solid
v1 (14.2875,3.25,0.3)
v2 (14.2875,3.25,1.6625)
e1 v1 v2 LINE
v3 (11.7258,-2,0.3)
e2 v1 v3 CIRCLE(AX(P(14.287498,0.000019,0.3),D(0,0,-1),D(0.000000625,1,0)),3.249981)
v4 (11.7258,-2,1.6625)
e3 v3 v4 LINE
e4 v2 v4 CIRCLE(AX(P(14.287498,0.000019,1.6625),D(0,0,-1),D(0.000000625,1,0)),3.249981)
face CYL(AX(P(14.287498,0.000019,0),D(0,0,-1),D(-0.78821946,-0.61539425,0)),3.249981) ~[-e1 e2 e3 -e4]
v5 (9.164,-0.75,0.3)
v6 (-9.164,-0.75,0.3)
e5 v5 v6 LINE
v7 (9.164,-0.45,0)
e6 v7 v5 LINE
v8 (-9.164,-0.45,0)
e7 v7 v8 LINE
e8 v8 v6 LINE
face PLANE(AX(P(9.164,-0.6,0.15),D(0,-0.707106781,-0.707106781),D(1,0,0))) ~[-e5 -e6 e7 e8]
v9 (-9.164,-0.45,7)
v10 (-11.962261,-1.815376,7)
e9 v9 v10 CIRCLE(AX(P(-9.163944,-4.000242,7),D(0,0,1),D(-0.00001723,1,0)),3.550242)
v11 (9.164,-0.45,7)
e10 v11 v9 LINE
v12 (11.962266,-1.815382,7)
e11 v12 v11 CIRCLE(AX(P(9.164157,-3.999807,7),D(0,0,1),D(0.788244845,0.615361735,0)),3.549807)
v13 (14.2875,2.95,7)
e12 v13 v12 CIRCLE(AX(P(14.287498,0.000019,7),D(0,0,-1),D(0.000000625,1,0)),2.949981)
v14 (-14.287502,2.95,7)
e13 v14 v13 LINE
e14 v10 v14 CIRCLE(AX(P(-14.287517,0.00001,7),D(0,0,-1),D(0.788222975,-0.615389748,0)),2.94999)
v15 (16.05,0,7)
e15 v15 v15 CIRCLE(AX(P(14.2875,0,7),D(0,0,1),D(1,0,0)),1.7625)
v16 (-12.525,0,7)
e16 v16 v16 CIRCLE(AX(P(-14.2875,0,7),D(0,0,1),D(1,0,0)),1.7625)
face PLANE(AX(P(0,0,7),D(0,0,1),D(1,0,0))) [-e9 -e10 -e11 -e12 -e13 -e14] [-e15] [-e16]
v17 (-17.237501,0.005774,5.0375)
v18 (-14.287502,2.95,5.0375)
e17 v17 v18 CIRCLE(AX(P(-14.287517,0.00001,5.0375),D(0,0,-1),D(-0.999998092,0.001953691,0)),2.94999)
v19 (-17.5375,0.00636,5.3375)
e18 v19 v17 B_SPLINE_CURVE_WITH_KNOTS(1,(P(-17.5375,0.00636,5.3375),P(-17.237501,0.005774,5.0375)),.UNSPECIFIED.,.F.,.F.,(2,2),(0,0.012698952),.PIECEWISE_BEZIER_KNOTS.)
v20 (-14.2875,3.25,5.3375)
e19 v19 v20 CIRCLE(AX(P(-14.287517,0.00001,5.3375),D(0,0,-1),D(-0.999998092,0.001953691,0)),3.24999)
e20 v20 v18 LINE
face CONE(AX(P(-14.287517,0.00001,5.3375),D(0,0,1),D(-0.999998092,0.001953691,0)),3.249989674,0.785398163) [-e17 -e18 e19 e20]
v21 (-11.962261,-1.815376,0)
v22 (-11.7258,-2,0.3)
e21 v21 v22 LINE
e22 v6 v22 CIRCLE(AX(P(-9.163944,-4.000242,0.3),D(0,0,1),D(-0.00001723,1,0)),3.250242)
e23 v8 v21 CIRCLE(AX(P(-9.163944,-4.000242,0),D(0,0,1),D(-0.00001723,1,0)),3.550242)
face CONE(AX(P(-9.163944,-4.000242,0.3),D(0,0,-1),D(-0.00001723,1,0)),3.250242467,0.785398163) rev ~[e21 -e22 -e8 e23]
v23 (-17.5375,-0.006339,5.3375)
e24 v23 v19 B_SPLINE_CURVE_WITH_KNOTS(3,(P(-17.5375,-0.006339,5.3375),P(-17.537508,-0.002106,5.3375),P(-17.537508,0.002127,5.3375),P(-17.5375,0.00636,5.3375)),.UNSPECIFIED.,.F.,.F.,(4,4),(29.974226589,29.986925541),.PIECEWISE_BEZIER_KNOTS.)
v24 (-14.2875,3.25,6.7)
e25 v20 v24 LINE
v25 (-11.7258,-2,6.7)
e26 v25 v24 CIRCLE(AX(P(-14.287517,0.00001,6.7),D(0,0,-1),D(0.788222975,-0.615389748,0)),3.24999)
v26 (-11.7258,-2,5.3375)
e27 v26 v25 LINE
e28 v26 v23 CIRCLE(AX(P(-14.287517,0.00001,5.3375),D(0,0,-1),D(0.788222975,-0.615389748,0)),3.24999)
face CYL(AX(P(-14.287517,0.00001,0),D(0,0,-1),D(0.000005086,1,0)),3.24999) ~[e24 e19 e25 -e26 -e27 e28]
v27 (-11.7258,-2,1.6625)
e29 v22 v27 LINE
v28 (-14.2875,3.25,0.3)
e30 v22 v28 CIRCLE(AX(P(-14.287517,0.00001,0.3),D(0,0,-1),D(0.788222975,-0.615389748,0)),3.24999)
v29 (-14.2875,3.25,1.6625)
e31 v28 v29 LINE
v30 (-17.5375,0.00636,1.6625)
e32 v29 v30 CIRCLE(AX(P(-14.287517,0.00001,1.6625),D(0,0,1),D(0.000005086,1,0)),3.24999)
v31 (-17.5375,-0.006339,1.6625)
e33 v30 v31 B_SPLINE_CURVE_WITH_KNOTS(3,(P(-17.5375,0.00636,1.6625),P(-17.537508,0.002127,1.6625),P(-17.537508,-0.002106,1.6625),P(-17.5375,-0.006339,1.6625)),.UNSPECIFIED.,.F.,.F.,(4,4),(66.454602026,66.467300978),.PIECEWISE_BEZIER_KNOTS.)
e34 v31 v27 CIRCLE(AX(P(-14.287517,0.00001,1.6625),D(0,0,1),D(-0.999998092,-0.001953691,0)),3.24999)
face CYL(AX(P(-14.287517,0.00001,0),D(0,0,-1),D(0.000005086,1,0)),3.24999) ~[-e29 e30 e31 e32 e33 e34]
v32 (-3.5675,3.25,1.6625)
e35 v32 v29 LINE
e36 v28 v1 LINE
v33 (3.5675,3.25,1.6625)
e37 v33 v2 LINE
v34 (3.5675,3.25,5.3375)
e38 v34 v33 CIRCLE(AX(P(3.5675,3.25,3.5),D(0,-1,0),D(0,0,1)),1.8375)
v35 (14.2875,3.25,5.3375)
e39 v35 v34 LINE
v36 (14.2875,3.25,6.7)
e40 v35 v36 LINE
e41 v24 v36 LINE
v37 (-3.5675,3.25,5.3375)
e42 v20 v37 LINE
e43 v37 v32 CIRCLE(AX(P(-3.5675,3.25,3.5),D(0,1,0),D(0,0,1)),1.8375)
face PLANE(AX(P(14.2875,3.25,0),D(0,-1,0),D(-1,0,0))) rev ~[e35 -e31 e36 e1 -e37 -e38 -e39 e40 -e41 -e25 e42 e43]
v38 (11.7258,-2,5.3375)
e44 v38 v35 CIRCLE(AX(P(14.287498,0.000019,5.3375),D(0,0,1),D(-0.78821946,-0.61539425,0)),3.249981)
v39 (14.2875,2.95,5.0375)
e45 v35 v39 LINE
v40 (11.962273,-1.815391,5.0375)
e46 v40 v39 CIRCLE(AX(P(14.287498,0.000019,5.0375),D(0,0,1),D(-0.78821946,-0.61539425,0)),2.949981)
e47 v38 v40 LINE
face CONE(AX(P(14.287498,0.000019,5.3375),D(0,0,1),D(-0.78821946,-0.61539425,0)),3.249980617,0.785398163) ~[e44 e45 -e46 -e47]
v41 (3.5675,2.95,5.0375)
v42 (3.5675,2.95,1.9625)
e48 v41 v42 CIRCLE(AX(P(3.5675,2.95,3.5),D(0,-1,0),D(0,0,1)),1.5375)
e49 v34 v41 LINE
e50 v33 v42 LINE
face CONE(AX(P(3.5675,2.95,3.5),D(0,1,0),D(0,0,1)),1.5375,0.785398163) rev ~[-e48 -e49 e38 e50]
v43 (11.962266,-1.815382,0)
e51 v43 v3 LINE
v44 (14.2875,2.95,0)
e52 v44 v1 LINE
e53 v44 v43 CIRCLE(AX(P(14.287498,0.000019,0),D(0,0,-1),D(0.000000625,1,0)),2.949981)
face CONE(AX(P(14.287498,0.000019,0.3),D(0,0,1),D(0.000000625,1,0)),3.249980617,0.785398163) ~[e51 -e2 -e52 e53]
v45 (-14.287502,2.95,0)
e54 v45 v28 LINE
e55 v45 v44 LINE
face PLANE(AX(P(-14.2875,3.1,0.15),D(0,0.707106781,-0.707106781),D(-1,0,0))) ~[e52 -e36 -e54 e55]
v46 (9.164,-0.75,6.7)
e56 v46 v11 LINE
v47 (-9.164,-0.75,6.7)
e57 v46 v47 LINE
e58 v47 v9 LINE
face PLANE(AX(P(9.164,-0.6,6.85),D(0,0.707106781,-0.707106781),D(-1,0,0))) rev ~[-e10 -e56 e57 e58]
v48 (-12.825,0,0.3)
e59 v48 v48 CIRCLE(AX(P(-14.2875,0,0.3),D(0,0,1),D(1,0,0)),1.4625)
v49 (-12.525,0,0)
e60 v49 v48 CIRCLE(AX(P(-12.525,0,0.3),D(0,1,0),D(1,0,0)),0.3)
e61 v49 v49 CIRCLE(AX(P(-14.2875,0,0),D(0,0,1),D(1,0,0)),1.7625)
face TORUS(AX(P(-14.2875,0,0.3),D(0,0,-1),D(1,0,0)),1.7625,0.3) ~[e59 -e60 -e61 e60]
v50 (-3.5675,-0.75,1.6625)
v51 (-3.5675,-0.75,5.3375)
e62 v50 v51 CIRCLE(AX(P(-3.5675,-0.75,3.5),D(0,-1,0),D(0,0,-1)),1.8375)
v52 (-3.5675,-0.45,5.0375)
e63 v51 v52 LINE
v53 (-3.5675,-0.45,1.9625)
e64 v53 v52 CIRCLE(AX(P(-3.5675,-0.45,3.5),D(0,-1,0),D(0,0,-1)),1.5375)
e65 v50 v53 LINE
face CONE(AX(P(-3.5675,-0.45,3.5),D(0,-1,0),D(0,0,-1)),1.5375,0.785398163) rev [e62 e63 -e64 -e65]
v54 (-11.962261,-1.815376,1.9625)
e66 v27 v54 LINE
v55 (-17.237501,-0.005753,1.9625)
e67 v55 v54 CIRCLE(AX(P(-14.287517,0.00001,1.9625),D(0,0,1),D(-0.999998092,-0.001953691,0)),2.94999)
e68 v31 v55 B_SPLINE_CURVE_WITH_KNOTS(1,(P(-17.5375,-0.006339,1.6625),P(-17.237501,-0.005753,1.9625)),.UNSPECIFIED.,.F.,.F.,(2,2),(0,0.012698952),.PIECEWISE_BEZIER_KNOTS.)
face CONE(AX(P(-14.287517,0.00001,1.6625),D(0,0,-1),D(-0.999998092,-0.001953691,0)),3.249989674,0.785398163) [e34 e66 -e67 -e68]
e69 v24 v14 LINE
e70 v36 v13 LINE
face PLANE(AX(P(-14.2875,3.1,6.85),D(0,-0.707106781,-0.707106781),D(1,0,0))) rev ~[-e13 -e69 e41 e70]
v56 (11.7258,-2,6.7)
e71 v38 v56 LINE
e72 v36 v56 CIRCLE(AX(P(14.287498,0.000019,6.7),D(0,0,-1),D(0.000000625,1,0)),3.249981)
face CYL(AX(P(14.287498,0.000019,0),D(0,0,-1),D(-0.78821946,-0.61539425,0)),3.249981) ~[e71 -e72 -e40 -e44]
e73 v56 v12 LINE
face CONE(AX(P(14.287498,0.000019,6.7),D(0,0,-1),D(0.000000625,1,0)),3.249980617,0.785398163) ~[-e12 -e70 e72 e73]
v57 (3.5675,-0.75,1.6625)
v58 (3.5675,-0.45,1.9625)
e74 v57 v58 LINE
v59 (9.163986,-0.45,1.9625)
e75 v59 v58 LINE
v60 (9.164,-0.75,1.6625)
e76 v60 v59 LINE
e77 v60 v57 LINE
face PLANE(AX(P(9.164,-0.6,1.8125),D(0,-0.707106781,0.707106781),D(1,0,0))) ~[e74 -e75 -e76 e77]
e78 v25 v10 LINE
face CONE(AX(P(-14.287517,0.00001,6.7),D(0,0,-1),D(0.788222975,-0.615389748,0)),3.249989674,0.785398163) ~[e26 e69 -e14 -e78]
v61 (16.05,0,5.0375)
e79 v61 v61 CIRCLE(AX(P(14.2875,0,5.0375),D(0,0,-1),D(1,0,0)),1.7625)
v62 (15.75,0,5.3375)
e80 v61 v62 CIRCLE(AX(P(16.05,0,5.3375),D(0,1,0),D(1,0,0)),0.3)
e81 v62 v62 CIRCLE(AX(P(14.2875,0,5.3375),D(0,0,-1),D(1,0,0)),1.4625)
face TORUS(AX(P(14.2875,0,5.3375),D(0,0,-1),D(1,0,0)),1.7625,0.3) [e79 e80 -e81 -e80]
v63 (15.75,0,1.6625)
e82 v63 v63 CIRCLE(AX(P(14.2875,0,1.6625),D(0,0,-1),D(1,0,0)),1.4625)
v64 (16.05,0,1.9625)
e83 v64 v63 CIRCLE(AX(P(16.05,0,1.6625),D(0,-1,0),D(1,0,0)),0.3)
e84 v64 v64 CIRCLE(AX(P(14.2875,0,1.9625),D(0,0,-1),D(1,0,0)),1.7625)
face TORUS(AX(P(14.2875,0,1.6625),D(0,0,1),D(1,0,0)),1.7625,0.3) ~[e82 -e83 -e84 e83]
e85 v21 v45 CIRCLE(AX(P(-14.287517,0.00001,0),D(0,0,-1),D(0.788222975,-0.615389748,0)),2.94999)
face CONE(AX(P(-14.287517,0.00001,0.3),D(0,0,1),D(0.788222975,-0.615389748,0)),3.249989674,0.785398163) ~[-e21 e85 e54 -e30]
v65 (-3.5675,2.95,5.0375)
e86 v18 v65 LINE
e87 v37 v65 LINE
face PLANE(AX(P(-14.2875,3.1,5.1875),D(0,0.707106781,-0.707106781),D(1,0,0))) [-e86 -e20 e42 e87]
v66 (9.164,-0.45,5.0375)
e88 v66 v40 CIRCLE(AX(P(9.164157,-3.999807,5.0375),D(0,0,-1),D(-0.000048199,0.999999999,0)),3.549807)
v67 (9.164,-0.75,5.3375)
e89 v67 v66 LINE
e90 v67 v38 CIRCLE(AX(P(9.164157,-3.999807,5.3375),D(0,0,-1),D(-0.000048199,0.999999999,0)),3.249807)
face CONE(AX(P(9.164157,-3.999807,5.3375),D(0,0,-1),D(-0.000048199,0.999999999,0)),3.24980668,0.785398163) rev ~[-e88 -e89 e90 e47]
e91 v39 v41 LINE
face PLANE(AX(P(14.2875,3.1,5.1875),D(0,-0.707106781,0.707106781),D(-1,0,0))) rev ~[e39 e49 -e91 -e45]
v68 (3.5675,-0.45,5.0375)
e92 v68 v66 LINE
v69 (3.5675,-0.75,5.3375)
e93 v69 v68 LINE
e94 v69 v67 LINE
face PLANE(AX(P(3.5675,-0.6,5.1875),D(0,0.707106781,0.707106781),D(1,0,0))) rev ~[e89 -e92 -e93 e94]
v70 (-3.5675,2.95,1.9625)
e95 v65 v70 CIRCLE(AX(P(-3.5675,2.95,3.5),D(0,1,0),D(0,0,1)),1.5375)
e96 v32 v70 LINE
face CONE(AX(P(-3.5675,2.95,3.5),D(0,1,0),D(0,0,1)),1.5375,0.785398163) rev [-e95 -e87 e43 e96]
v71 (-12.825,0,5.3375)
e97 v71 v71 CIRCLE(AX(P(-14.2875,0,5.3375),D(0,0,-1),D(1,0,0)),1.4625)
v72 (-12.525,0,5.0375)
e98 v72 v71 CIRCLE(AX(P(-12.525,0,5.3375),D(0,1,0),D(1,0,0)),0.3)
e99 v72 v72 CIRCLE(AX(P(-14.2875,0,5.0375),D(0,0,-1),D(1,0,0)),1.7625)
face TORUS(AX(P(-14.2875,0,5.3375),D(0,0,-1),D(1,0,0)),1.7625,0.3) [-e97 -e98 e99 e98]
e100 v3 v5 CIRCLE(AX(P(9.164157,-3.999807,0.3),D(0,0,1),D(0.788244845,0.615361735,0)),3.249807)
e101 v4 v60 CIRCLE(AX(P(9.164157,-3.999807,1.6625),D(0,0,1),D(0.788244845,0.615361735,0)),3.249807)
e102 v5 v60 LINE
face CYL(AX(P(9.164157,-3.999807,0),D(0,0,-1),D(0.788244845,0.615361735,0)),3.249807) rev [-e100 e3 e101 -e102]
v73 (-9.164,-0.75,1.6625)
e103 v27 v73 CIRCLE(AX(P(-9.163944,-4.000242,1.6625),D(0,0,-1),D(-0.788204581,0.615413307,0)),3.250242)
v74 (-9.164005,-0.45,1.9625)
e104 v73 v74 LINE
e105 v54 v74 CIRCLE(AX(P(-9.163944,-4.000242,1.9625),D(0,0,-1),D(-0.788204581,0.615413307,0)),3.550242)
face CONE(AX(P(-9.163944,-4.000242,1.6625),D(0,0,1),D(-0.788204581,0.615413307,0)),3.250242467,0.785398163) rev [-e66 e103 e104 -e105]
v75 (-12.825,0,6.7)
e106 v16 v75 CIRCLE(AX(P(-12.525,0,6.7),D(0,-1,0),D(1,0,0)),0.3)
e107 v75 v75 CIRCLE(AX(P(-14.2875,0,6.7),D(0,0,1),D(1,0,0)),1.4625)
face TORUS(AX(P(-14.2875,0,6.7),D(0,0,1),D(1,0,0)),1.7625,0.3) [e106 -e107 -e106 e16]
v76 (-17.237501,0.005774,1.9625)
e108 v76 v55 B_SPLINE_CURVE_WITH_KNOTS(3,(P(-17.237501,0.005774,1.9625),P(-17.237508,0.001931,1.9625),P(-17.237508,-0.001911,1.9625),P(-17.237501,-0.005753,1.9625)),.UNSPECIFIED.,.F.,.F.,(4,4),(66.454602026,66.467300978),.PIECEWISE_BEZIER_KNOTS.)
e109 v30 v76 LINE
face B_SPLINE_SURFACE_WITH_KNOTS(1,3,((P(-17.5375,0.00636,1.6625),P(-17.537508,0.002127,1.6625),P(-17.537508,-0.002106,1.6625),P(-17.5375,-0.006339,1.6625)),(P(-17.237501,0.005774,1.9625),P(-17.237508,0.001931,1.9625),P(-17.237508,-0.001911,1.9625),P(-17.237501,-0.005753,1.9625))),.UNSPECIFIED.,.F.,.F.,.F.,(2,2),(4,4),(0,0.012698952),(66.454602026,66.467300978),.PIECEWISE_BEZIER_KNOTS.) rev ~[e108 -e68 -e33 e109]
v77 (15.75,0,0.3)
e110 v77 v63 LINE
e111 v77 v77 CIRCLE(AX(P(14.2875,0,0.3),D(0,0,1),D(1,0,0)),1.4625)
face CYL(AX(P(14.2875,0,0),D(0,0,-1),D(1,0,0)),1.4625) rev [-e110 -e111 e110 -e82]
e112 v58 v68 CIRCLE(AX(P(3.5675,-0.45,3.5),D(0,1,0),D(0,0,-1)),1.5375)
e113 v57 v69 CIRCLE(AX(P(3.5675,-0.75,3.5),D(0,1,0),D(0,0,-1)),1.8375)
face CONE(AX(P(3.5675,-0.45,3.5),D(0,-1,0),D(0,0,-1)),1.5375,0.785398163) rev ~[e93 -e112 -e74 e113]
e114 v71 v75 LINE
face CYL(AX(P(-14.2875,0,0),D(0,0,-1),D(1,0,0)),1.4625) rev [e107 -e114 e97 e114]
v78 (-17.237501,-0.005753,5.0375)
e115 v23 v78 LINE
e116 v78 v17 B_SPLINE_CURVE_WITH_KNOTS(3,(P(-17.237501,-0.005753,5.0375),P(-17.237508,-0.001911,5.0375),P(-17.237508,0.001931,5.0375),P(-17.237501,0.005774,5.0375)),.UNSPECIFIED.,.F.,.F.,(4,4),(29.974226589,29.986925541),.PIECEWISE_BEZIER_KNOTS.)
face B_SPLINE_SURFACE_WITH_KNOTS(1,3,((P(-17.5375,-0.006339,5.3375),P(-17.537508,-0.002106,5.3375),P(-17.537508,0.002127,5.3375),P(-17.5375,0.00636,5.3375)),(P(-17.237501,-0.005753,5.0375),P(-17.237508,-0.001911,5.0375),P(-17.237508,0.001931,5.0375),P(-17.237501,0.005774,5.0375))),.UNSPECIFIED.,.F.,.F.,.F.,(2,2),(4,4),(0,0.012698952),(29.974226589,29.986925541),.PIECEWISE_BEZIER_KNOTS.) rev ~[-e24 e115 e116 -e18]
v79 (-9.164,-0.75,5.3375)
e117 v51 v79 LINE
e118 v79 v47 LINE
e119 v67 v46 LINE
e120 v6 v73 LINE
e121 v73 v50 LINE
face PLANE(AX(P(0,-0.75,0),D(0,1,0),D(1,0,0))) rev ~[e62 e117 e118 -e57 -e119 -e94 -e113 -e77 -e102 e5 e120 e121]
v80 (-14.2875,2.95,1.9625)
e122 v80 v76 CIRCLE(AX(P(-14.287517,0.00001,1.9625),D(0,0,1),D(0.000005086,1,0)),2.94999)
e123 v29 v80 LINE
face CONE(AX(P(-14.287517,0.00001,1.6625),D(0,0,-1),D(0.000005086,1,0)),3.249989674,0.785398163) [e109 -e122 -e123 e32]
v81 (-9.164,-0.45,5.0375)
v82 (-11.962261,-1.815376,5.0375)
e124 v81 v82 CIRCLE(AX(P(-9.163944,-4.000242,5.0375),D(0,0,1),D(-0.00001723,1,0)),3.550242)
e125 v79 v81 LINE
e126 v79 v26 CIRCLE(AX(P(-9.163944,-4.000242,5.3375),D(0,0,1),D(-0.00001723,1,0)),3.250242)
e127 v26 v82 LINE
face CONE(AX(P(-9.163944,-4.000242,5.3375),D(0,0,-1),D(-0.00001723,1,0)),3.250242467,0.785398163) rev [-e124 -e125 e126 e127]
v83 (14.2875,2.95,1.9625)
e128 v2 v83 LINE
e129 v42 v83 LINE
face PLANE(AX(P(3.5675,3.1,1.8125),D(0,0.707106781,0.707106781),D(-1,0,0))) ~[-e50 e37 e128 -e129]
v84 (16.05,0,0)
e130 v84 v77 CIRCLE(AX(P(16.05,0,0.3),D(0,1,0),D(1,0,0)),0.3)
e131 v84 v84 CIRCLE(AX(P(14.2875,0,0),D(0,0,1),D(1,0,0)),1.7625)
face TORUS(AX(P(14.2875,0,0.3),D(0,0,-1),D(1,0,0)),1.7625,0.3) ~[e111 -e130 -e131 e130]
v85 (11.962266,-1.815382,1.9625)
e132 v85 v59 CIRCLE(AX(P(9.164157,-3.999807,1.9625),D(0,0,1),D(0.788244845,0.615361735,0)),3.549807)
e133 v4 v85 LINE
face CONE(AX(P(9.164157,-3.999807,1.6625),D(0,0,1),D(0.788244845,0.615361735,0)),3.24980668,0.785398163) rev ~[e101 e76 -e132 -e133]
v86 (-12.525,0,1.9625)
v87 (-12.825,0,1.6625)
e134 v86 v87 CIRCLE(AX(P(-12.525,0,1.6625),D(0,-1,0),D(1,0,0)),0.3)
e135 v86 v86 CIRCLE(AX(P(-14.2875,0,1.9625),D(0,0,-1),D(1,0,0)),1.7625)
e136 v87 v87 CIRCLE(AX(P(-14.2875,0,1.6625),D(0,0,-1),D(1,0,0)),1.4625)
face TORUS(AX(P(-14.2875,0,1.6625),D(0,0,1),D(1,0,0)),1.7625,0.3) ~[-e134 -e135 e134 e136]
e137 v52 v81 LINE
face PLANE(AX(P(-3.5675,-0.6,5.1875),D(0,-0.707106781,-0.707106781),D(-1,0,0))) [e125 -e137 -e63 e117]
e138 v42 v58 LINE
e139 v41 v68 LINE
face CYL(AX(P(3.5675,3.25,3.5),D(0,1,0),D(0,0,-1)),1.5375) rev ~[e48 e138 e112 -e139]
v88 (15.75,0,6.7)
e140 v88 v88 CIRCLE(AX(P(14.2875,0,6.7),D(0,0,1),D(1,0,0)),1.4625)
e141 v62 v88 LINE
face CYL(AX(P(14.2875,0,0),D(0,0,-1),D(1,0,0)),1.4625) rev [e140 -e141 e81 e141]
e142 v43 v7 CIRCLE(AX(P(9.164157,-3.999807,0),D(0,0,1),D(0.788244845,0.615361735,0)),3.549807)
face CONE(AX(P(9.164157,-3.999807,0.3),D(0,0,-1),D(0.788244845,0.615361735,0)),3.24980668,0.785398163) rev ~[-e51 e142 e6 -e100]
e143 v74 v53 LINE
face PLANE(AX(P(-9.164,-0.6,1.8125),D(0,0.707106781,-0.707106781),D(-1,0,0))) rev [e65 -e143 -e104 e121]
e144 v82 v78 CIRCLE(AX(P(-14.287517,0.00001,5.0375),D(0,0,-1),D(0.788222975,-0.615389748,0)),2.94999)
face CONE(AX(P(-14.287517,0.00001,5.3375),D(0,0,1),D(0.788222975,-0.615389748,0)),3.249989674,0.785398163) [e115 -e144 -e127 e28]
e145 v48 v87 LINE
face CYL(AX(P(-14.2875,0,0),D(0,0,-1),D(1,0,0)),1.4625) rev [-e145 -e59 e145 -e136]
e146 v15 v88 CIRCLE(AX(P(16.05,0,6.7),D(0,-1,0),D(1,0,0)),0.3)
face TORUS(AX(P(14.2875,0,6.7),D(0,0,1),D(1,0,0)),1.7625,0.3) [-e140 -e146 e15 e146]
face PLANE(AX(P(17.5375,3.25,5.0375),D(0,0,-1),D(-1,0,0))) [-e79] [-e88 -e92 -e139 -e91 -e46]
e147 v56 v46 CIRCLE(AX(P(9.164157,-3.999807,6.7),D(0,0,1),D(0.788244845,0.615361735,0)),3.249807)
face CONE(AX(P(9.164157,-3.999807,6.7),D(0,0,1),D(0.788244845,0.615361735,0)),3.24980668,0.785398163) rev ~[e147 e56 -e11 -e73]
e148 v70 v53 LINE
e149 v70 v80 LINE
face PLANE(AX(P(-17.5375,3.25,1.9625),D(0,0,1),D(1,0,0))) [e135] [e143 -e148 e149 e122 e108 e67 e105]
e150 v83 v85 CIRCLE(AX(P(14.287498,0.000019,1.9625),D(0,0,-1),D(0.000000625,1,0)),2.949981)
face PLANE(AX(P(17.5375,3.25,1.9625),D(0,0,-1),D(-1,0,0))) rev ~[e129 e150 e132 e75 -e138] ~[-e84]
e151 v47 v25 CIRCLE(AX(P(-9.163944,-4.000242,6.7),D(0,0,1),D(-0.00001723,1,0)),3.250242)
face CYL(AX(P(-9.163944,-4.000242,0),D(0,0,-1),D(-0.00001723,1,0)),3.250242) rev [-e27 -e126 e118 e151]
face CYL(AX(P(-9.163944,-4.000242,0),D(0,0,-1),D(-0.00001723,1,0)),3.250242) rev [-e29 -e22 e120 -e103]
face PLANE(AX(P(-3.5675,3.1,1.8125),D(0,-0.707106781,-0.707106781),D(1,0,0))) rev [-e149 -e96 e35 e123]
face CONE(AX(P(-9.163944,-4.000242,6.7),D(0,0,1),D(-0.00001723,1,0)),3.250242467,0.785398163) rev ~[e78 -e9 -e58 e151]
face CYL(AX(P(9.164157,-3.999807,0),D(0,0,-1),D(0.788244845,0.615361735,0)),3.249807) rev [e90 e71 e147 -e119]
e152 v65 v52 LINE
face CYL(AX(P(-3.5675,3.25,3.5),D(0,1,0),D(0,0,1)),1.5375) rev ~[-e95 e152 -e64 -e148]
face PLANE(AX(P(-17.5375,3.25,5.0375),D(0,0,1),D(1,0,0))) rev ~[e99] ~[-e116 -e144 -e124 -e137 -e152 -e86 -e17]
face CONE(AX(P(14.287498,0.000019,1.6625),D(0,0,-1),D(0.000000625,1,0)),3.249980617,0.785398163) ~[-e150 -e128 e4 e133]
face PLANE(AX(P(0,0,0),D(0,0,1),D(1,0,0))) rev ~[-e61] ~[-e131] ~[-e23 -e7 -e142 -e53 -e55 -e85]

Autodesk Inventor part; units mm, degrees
ref_plane "YZ Plane" through (0, 0, 0) normal (1, 0, 0) x (0, 1, 0)
ref_plane "XZ Plane" through (0, 0, 0) normal (0, 1, 0) x (-1, 0, 0)
ref_plane "XY Plane" through (0, 0, 0) normal (0, 0, 1) x (1, 0, 0)
sketch "Sketch1" plane through (0, 0, 0) normal (0, 0, 1) x (1, 0, 0)
  circle A0 centre (14.2875, 0) radius 1.4625
  line L0 (14.2875, 3.25) -> (-8.6403, 3.25)
  line L1 (-446494.9011, 0) -> (446494.9011, 0) construction
  line L2 (0, -0.75) -> (9.164, -0.75)
  arc A1 (11.7258, -2) -> (14.2875, 3.25) centre (14.2875, 0) ccw
  arc A2 (11.7258, -2) -> (9.164, -0.75) centre (9.164, -4) ccw
  line L3 (0, -446500.8256) -> (0, 446500.0254) construction
  circle A3 centre (-14.2875, 0) radius 1.4625
  line L4 (-14.2875, 3.25) -> (-8.6403, 3.25)
  line L5 (446494.9011, 0) -> (-446494.9011, 0) construction
  line L6 (0, -0.75) -> (-9.164, -0.75)
  arc A4 (-14.2875, 3.25) -> (-11.7258, -2) centre (-14.2875, 0) ccw
  arc A5 (-9.164, -0.75) -> (-11.7258, -2) centre (-9.164, -4) ccw
  point P0 (0, 0)
  dimension "d0" = 4
  dimension "d1" = 3.25
  dimension "d2" = 3.25
  dimension "d3" = 2.925
  dimension "d4" = 28.575
extrude "Extrusion1" add sketch "Sketch1" along normal blind 7
ref_plane "Work Plane1" through (0, 0, 3.5) normal (0, 0, 1) x (1, 0, 0)
sketch "Sketch2" plane through (-14.2875, 3.25, 0) normal (0, 1, 0) x (1, 0, 0)
  line L0 (38.84, -3.5) -> (-10.265, -3.5) construction
  line L1 (31.825, 0) -> (31.825, -7) construction
  line L2 (31.825, -1.9625) -> (17.855, -1.9625)
  line L3 (31.825, -5.0375) -> (17.855, -5.0375)
  arc A0 (17.855, -1.9625) -> (17.855, -5.0375) centre (17.855, -3.5) ccw
  line L4 (31.825, -1.9625) -> (31.825, -5.0375)
  line L5 (14.2875, 1.4) -> (14.2875, -8.4) construction
  line L6 (-3.25, -1.9625) -> (10.72, -1.9625)
  line L7 (-3.25, -5.0375) -> (10.72, -5.0375)
  arc A1 (10.72, -5.0375) -> (10.72, -1.9625) centre (10.72, -3.5) ccw
  line L8 (-3.25, -1.9625) -> (-3.25, -5.0375)
  point P0 (14.2875, 0)
  dimension "d7" = 3.075
  dimension "d9" = 13.97
extrude "Extrusion2" cut sketch "Sketch2" against normal through all
chamfer "Chamfer1" distance 0.3 angle 45 25 edges at (0, -0.75, 7) (10.5892, -1.0792, 7) (17.2083, -1.4252, 7) (0, 3.25, 7) (-17.2083, -1.4252, 7) (-10.5892, -1.0792, 7) (2.03, -0.75, 3.5) (6.3658, -0.75, 5.0375) (10.5892, -1.0792, 5.0375) (17.2083, -1.4252, 5.0375) (17.2083, -1.4252, 1.9625) (10.5892, -1.0792, 1.9625) (6.3658, -0.75, 1.9625) (-10.5892, -1.0792, 1.9625) (-17.2083, -1.4252, 1.9625) (-8.9275, 3.25, 1.9625) (-8.9275, 3.25, 5.0375) (-17.2083, -1.4252, 5.0375) (-10.5892, -1.0792, 5.0375) (0, -0.75, 0) (10.5892, -1.0792, 0) (17.2083, -1.4252, 0) (0, 3.25, 0) (-17.2083, -1.4252, 0) (-10.5892, -1.0792, 0)
fillet "Fillet1" radius 0.3 8 edges at (-15.75, 0, 0) (-15.75, 0, 1.9625) (-15.75, 0, 5.0375) (-15.75, 0, 7) (12.825, 0, 0) (12.825, 0, 1.9625) (12.825, 0, 5.0375) (12.825, 0, 7)
equation "\"d0\" = bar_thickness"
equation "\"d1\" = 0.5 * bar_diameter"
equation "\"d2\" = 0.5 * bar_diameter"
equation "\"d3\" = bore_press"
equation "\"d4\" = bar_length_bc"
equation "\"d5\" = bar_width"
equation "\"d7\" = hinge_thickness + finger_link_clearence"
equation "\"d10\" = hinge_thickness"
equation "\"d12\" = champfer"
equation "\"bar_length_bc\" = finger_part_B_length"
equation "\"hinge_thickness\" = 3"
equation "\"bar_diameter\" = 6.5"
equation "\"bore_clearance\" = 3.025"
equation "\"finger_width\" = 25"
equation "\"finger_thickness\" = 8"
equation "\"finger_part_A_length\" = 42.8625"
equation "\"finger_part_B_length\" = 28.575"
equation "\"finger_link_width\" = 3.5"
equation "\"finger_link_clearence\" = 0.075"
equation "\"tol\" = 0.5 * finger_link_clearence"
equation "\"link_tol\" = 0.254"
equation "\"bore_press\" = 2.925"
equation "\"bar_thickness\" = 4"
equation "\"hinge_dist_sym_plane\" = 4"
equation "\"hinge_act_length_c\" = 7.62"
equation "\"hinge_act_length_bc\" = 16.66875"
equation "\"hinge_act_length_ab\" = 11.049"
equation "\"hinge_act_length_a\" = 21.43125"
equation "\"hinge_guid_length_c\" = 9.525"
equation "\"hinge_guid_length_bc\" = 9.525"
equation "\"hinge_guid_length_ab\" = 17.145"
equation "\"hinge_guid_length_a\" = 17.145"
equation "\"bar_act_length_ab\" = 40.48125"
equation "\"bar_guid_length_ab\" = 43.275"
equation "\"bar_width\" = 7"
equation "\"champfer\" = 0.3"
equation "\"fillet\" = 0.4"
equation "\"dist_finger_BC\" = 56.5"
equation "\"gear_diameter\" = 14"
equation "\"hinge_point\" = 15"
properties part number "bar_bc"
